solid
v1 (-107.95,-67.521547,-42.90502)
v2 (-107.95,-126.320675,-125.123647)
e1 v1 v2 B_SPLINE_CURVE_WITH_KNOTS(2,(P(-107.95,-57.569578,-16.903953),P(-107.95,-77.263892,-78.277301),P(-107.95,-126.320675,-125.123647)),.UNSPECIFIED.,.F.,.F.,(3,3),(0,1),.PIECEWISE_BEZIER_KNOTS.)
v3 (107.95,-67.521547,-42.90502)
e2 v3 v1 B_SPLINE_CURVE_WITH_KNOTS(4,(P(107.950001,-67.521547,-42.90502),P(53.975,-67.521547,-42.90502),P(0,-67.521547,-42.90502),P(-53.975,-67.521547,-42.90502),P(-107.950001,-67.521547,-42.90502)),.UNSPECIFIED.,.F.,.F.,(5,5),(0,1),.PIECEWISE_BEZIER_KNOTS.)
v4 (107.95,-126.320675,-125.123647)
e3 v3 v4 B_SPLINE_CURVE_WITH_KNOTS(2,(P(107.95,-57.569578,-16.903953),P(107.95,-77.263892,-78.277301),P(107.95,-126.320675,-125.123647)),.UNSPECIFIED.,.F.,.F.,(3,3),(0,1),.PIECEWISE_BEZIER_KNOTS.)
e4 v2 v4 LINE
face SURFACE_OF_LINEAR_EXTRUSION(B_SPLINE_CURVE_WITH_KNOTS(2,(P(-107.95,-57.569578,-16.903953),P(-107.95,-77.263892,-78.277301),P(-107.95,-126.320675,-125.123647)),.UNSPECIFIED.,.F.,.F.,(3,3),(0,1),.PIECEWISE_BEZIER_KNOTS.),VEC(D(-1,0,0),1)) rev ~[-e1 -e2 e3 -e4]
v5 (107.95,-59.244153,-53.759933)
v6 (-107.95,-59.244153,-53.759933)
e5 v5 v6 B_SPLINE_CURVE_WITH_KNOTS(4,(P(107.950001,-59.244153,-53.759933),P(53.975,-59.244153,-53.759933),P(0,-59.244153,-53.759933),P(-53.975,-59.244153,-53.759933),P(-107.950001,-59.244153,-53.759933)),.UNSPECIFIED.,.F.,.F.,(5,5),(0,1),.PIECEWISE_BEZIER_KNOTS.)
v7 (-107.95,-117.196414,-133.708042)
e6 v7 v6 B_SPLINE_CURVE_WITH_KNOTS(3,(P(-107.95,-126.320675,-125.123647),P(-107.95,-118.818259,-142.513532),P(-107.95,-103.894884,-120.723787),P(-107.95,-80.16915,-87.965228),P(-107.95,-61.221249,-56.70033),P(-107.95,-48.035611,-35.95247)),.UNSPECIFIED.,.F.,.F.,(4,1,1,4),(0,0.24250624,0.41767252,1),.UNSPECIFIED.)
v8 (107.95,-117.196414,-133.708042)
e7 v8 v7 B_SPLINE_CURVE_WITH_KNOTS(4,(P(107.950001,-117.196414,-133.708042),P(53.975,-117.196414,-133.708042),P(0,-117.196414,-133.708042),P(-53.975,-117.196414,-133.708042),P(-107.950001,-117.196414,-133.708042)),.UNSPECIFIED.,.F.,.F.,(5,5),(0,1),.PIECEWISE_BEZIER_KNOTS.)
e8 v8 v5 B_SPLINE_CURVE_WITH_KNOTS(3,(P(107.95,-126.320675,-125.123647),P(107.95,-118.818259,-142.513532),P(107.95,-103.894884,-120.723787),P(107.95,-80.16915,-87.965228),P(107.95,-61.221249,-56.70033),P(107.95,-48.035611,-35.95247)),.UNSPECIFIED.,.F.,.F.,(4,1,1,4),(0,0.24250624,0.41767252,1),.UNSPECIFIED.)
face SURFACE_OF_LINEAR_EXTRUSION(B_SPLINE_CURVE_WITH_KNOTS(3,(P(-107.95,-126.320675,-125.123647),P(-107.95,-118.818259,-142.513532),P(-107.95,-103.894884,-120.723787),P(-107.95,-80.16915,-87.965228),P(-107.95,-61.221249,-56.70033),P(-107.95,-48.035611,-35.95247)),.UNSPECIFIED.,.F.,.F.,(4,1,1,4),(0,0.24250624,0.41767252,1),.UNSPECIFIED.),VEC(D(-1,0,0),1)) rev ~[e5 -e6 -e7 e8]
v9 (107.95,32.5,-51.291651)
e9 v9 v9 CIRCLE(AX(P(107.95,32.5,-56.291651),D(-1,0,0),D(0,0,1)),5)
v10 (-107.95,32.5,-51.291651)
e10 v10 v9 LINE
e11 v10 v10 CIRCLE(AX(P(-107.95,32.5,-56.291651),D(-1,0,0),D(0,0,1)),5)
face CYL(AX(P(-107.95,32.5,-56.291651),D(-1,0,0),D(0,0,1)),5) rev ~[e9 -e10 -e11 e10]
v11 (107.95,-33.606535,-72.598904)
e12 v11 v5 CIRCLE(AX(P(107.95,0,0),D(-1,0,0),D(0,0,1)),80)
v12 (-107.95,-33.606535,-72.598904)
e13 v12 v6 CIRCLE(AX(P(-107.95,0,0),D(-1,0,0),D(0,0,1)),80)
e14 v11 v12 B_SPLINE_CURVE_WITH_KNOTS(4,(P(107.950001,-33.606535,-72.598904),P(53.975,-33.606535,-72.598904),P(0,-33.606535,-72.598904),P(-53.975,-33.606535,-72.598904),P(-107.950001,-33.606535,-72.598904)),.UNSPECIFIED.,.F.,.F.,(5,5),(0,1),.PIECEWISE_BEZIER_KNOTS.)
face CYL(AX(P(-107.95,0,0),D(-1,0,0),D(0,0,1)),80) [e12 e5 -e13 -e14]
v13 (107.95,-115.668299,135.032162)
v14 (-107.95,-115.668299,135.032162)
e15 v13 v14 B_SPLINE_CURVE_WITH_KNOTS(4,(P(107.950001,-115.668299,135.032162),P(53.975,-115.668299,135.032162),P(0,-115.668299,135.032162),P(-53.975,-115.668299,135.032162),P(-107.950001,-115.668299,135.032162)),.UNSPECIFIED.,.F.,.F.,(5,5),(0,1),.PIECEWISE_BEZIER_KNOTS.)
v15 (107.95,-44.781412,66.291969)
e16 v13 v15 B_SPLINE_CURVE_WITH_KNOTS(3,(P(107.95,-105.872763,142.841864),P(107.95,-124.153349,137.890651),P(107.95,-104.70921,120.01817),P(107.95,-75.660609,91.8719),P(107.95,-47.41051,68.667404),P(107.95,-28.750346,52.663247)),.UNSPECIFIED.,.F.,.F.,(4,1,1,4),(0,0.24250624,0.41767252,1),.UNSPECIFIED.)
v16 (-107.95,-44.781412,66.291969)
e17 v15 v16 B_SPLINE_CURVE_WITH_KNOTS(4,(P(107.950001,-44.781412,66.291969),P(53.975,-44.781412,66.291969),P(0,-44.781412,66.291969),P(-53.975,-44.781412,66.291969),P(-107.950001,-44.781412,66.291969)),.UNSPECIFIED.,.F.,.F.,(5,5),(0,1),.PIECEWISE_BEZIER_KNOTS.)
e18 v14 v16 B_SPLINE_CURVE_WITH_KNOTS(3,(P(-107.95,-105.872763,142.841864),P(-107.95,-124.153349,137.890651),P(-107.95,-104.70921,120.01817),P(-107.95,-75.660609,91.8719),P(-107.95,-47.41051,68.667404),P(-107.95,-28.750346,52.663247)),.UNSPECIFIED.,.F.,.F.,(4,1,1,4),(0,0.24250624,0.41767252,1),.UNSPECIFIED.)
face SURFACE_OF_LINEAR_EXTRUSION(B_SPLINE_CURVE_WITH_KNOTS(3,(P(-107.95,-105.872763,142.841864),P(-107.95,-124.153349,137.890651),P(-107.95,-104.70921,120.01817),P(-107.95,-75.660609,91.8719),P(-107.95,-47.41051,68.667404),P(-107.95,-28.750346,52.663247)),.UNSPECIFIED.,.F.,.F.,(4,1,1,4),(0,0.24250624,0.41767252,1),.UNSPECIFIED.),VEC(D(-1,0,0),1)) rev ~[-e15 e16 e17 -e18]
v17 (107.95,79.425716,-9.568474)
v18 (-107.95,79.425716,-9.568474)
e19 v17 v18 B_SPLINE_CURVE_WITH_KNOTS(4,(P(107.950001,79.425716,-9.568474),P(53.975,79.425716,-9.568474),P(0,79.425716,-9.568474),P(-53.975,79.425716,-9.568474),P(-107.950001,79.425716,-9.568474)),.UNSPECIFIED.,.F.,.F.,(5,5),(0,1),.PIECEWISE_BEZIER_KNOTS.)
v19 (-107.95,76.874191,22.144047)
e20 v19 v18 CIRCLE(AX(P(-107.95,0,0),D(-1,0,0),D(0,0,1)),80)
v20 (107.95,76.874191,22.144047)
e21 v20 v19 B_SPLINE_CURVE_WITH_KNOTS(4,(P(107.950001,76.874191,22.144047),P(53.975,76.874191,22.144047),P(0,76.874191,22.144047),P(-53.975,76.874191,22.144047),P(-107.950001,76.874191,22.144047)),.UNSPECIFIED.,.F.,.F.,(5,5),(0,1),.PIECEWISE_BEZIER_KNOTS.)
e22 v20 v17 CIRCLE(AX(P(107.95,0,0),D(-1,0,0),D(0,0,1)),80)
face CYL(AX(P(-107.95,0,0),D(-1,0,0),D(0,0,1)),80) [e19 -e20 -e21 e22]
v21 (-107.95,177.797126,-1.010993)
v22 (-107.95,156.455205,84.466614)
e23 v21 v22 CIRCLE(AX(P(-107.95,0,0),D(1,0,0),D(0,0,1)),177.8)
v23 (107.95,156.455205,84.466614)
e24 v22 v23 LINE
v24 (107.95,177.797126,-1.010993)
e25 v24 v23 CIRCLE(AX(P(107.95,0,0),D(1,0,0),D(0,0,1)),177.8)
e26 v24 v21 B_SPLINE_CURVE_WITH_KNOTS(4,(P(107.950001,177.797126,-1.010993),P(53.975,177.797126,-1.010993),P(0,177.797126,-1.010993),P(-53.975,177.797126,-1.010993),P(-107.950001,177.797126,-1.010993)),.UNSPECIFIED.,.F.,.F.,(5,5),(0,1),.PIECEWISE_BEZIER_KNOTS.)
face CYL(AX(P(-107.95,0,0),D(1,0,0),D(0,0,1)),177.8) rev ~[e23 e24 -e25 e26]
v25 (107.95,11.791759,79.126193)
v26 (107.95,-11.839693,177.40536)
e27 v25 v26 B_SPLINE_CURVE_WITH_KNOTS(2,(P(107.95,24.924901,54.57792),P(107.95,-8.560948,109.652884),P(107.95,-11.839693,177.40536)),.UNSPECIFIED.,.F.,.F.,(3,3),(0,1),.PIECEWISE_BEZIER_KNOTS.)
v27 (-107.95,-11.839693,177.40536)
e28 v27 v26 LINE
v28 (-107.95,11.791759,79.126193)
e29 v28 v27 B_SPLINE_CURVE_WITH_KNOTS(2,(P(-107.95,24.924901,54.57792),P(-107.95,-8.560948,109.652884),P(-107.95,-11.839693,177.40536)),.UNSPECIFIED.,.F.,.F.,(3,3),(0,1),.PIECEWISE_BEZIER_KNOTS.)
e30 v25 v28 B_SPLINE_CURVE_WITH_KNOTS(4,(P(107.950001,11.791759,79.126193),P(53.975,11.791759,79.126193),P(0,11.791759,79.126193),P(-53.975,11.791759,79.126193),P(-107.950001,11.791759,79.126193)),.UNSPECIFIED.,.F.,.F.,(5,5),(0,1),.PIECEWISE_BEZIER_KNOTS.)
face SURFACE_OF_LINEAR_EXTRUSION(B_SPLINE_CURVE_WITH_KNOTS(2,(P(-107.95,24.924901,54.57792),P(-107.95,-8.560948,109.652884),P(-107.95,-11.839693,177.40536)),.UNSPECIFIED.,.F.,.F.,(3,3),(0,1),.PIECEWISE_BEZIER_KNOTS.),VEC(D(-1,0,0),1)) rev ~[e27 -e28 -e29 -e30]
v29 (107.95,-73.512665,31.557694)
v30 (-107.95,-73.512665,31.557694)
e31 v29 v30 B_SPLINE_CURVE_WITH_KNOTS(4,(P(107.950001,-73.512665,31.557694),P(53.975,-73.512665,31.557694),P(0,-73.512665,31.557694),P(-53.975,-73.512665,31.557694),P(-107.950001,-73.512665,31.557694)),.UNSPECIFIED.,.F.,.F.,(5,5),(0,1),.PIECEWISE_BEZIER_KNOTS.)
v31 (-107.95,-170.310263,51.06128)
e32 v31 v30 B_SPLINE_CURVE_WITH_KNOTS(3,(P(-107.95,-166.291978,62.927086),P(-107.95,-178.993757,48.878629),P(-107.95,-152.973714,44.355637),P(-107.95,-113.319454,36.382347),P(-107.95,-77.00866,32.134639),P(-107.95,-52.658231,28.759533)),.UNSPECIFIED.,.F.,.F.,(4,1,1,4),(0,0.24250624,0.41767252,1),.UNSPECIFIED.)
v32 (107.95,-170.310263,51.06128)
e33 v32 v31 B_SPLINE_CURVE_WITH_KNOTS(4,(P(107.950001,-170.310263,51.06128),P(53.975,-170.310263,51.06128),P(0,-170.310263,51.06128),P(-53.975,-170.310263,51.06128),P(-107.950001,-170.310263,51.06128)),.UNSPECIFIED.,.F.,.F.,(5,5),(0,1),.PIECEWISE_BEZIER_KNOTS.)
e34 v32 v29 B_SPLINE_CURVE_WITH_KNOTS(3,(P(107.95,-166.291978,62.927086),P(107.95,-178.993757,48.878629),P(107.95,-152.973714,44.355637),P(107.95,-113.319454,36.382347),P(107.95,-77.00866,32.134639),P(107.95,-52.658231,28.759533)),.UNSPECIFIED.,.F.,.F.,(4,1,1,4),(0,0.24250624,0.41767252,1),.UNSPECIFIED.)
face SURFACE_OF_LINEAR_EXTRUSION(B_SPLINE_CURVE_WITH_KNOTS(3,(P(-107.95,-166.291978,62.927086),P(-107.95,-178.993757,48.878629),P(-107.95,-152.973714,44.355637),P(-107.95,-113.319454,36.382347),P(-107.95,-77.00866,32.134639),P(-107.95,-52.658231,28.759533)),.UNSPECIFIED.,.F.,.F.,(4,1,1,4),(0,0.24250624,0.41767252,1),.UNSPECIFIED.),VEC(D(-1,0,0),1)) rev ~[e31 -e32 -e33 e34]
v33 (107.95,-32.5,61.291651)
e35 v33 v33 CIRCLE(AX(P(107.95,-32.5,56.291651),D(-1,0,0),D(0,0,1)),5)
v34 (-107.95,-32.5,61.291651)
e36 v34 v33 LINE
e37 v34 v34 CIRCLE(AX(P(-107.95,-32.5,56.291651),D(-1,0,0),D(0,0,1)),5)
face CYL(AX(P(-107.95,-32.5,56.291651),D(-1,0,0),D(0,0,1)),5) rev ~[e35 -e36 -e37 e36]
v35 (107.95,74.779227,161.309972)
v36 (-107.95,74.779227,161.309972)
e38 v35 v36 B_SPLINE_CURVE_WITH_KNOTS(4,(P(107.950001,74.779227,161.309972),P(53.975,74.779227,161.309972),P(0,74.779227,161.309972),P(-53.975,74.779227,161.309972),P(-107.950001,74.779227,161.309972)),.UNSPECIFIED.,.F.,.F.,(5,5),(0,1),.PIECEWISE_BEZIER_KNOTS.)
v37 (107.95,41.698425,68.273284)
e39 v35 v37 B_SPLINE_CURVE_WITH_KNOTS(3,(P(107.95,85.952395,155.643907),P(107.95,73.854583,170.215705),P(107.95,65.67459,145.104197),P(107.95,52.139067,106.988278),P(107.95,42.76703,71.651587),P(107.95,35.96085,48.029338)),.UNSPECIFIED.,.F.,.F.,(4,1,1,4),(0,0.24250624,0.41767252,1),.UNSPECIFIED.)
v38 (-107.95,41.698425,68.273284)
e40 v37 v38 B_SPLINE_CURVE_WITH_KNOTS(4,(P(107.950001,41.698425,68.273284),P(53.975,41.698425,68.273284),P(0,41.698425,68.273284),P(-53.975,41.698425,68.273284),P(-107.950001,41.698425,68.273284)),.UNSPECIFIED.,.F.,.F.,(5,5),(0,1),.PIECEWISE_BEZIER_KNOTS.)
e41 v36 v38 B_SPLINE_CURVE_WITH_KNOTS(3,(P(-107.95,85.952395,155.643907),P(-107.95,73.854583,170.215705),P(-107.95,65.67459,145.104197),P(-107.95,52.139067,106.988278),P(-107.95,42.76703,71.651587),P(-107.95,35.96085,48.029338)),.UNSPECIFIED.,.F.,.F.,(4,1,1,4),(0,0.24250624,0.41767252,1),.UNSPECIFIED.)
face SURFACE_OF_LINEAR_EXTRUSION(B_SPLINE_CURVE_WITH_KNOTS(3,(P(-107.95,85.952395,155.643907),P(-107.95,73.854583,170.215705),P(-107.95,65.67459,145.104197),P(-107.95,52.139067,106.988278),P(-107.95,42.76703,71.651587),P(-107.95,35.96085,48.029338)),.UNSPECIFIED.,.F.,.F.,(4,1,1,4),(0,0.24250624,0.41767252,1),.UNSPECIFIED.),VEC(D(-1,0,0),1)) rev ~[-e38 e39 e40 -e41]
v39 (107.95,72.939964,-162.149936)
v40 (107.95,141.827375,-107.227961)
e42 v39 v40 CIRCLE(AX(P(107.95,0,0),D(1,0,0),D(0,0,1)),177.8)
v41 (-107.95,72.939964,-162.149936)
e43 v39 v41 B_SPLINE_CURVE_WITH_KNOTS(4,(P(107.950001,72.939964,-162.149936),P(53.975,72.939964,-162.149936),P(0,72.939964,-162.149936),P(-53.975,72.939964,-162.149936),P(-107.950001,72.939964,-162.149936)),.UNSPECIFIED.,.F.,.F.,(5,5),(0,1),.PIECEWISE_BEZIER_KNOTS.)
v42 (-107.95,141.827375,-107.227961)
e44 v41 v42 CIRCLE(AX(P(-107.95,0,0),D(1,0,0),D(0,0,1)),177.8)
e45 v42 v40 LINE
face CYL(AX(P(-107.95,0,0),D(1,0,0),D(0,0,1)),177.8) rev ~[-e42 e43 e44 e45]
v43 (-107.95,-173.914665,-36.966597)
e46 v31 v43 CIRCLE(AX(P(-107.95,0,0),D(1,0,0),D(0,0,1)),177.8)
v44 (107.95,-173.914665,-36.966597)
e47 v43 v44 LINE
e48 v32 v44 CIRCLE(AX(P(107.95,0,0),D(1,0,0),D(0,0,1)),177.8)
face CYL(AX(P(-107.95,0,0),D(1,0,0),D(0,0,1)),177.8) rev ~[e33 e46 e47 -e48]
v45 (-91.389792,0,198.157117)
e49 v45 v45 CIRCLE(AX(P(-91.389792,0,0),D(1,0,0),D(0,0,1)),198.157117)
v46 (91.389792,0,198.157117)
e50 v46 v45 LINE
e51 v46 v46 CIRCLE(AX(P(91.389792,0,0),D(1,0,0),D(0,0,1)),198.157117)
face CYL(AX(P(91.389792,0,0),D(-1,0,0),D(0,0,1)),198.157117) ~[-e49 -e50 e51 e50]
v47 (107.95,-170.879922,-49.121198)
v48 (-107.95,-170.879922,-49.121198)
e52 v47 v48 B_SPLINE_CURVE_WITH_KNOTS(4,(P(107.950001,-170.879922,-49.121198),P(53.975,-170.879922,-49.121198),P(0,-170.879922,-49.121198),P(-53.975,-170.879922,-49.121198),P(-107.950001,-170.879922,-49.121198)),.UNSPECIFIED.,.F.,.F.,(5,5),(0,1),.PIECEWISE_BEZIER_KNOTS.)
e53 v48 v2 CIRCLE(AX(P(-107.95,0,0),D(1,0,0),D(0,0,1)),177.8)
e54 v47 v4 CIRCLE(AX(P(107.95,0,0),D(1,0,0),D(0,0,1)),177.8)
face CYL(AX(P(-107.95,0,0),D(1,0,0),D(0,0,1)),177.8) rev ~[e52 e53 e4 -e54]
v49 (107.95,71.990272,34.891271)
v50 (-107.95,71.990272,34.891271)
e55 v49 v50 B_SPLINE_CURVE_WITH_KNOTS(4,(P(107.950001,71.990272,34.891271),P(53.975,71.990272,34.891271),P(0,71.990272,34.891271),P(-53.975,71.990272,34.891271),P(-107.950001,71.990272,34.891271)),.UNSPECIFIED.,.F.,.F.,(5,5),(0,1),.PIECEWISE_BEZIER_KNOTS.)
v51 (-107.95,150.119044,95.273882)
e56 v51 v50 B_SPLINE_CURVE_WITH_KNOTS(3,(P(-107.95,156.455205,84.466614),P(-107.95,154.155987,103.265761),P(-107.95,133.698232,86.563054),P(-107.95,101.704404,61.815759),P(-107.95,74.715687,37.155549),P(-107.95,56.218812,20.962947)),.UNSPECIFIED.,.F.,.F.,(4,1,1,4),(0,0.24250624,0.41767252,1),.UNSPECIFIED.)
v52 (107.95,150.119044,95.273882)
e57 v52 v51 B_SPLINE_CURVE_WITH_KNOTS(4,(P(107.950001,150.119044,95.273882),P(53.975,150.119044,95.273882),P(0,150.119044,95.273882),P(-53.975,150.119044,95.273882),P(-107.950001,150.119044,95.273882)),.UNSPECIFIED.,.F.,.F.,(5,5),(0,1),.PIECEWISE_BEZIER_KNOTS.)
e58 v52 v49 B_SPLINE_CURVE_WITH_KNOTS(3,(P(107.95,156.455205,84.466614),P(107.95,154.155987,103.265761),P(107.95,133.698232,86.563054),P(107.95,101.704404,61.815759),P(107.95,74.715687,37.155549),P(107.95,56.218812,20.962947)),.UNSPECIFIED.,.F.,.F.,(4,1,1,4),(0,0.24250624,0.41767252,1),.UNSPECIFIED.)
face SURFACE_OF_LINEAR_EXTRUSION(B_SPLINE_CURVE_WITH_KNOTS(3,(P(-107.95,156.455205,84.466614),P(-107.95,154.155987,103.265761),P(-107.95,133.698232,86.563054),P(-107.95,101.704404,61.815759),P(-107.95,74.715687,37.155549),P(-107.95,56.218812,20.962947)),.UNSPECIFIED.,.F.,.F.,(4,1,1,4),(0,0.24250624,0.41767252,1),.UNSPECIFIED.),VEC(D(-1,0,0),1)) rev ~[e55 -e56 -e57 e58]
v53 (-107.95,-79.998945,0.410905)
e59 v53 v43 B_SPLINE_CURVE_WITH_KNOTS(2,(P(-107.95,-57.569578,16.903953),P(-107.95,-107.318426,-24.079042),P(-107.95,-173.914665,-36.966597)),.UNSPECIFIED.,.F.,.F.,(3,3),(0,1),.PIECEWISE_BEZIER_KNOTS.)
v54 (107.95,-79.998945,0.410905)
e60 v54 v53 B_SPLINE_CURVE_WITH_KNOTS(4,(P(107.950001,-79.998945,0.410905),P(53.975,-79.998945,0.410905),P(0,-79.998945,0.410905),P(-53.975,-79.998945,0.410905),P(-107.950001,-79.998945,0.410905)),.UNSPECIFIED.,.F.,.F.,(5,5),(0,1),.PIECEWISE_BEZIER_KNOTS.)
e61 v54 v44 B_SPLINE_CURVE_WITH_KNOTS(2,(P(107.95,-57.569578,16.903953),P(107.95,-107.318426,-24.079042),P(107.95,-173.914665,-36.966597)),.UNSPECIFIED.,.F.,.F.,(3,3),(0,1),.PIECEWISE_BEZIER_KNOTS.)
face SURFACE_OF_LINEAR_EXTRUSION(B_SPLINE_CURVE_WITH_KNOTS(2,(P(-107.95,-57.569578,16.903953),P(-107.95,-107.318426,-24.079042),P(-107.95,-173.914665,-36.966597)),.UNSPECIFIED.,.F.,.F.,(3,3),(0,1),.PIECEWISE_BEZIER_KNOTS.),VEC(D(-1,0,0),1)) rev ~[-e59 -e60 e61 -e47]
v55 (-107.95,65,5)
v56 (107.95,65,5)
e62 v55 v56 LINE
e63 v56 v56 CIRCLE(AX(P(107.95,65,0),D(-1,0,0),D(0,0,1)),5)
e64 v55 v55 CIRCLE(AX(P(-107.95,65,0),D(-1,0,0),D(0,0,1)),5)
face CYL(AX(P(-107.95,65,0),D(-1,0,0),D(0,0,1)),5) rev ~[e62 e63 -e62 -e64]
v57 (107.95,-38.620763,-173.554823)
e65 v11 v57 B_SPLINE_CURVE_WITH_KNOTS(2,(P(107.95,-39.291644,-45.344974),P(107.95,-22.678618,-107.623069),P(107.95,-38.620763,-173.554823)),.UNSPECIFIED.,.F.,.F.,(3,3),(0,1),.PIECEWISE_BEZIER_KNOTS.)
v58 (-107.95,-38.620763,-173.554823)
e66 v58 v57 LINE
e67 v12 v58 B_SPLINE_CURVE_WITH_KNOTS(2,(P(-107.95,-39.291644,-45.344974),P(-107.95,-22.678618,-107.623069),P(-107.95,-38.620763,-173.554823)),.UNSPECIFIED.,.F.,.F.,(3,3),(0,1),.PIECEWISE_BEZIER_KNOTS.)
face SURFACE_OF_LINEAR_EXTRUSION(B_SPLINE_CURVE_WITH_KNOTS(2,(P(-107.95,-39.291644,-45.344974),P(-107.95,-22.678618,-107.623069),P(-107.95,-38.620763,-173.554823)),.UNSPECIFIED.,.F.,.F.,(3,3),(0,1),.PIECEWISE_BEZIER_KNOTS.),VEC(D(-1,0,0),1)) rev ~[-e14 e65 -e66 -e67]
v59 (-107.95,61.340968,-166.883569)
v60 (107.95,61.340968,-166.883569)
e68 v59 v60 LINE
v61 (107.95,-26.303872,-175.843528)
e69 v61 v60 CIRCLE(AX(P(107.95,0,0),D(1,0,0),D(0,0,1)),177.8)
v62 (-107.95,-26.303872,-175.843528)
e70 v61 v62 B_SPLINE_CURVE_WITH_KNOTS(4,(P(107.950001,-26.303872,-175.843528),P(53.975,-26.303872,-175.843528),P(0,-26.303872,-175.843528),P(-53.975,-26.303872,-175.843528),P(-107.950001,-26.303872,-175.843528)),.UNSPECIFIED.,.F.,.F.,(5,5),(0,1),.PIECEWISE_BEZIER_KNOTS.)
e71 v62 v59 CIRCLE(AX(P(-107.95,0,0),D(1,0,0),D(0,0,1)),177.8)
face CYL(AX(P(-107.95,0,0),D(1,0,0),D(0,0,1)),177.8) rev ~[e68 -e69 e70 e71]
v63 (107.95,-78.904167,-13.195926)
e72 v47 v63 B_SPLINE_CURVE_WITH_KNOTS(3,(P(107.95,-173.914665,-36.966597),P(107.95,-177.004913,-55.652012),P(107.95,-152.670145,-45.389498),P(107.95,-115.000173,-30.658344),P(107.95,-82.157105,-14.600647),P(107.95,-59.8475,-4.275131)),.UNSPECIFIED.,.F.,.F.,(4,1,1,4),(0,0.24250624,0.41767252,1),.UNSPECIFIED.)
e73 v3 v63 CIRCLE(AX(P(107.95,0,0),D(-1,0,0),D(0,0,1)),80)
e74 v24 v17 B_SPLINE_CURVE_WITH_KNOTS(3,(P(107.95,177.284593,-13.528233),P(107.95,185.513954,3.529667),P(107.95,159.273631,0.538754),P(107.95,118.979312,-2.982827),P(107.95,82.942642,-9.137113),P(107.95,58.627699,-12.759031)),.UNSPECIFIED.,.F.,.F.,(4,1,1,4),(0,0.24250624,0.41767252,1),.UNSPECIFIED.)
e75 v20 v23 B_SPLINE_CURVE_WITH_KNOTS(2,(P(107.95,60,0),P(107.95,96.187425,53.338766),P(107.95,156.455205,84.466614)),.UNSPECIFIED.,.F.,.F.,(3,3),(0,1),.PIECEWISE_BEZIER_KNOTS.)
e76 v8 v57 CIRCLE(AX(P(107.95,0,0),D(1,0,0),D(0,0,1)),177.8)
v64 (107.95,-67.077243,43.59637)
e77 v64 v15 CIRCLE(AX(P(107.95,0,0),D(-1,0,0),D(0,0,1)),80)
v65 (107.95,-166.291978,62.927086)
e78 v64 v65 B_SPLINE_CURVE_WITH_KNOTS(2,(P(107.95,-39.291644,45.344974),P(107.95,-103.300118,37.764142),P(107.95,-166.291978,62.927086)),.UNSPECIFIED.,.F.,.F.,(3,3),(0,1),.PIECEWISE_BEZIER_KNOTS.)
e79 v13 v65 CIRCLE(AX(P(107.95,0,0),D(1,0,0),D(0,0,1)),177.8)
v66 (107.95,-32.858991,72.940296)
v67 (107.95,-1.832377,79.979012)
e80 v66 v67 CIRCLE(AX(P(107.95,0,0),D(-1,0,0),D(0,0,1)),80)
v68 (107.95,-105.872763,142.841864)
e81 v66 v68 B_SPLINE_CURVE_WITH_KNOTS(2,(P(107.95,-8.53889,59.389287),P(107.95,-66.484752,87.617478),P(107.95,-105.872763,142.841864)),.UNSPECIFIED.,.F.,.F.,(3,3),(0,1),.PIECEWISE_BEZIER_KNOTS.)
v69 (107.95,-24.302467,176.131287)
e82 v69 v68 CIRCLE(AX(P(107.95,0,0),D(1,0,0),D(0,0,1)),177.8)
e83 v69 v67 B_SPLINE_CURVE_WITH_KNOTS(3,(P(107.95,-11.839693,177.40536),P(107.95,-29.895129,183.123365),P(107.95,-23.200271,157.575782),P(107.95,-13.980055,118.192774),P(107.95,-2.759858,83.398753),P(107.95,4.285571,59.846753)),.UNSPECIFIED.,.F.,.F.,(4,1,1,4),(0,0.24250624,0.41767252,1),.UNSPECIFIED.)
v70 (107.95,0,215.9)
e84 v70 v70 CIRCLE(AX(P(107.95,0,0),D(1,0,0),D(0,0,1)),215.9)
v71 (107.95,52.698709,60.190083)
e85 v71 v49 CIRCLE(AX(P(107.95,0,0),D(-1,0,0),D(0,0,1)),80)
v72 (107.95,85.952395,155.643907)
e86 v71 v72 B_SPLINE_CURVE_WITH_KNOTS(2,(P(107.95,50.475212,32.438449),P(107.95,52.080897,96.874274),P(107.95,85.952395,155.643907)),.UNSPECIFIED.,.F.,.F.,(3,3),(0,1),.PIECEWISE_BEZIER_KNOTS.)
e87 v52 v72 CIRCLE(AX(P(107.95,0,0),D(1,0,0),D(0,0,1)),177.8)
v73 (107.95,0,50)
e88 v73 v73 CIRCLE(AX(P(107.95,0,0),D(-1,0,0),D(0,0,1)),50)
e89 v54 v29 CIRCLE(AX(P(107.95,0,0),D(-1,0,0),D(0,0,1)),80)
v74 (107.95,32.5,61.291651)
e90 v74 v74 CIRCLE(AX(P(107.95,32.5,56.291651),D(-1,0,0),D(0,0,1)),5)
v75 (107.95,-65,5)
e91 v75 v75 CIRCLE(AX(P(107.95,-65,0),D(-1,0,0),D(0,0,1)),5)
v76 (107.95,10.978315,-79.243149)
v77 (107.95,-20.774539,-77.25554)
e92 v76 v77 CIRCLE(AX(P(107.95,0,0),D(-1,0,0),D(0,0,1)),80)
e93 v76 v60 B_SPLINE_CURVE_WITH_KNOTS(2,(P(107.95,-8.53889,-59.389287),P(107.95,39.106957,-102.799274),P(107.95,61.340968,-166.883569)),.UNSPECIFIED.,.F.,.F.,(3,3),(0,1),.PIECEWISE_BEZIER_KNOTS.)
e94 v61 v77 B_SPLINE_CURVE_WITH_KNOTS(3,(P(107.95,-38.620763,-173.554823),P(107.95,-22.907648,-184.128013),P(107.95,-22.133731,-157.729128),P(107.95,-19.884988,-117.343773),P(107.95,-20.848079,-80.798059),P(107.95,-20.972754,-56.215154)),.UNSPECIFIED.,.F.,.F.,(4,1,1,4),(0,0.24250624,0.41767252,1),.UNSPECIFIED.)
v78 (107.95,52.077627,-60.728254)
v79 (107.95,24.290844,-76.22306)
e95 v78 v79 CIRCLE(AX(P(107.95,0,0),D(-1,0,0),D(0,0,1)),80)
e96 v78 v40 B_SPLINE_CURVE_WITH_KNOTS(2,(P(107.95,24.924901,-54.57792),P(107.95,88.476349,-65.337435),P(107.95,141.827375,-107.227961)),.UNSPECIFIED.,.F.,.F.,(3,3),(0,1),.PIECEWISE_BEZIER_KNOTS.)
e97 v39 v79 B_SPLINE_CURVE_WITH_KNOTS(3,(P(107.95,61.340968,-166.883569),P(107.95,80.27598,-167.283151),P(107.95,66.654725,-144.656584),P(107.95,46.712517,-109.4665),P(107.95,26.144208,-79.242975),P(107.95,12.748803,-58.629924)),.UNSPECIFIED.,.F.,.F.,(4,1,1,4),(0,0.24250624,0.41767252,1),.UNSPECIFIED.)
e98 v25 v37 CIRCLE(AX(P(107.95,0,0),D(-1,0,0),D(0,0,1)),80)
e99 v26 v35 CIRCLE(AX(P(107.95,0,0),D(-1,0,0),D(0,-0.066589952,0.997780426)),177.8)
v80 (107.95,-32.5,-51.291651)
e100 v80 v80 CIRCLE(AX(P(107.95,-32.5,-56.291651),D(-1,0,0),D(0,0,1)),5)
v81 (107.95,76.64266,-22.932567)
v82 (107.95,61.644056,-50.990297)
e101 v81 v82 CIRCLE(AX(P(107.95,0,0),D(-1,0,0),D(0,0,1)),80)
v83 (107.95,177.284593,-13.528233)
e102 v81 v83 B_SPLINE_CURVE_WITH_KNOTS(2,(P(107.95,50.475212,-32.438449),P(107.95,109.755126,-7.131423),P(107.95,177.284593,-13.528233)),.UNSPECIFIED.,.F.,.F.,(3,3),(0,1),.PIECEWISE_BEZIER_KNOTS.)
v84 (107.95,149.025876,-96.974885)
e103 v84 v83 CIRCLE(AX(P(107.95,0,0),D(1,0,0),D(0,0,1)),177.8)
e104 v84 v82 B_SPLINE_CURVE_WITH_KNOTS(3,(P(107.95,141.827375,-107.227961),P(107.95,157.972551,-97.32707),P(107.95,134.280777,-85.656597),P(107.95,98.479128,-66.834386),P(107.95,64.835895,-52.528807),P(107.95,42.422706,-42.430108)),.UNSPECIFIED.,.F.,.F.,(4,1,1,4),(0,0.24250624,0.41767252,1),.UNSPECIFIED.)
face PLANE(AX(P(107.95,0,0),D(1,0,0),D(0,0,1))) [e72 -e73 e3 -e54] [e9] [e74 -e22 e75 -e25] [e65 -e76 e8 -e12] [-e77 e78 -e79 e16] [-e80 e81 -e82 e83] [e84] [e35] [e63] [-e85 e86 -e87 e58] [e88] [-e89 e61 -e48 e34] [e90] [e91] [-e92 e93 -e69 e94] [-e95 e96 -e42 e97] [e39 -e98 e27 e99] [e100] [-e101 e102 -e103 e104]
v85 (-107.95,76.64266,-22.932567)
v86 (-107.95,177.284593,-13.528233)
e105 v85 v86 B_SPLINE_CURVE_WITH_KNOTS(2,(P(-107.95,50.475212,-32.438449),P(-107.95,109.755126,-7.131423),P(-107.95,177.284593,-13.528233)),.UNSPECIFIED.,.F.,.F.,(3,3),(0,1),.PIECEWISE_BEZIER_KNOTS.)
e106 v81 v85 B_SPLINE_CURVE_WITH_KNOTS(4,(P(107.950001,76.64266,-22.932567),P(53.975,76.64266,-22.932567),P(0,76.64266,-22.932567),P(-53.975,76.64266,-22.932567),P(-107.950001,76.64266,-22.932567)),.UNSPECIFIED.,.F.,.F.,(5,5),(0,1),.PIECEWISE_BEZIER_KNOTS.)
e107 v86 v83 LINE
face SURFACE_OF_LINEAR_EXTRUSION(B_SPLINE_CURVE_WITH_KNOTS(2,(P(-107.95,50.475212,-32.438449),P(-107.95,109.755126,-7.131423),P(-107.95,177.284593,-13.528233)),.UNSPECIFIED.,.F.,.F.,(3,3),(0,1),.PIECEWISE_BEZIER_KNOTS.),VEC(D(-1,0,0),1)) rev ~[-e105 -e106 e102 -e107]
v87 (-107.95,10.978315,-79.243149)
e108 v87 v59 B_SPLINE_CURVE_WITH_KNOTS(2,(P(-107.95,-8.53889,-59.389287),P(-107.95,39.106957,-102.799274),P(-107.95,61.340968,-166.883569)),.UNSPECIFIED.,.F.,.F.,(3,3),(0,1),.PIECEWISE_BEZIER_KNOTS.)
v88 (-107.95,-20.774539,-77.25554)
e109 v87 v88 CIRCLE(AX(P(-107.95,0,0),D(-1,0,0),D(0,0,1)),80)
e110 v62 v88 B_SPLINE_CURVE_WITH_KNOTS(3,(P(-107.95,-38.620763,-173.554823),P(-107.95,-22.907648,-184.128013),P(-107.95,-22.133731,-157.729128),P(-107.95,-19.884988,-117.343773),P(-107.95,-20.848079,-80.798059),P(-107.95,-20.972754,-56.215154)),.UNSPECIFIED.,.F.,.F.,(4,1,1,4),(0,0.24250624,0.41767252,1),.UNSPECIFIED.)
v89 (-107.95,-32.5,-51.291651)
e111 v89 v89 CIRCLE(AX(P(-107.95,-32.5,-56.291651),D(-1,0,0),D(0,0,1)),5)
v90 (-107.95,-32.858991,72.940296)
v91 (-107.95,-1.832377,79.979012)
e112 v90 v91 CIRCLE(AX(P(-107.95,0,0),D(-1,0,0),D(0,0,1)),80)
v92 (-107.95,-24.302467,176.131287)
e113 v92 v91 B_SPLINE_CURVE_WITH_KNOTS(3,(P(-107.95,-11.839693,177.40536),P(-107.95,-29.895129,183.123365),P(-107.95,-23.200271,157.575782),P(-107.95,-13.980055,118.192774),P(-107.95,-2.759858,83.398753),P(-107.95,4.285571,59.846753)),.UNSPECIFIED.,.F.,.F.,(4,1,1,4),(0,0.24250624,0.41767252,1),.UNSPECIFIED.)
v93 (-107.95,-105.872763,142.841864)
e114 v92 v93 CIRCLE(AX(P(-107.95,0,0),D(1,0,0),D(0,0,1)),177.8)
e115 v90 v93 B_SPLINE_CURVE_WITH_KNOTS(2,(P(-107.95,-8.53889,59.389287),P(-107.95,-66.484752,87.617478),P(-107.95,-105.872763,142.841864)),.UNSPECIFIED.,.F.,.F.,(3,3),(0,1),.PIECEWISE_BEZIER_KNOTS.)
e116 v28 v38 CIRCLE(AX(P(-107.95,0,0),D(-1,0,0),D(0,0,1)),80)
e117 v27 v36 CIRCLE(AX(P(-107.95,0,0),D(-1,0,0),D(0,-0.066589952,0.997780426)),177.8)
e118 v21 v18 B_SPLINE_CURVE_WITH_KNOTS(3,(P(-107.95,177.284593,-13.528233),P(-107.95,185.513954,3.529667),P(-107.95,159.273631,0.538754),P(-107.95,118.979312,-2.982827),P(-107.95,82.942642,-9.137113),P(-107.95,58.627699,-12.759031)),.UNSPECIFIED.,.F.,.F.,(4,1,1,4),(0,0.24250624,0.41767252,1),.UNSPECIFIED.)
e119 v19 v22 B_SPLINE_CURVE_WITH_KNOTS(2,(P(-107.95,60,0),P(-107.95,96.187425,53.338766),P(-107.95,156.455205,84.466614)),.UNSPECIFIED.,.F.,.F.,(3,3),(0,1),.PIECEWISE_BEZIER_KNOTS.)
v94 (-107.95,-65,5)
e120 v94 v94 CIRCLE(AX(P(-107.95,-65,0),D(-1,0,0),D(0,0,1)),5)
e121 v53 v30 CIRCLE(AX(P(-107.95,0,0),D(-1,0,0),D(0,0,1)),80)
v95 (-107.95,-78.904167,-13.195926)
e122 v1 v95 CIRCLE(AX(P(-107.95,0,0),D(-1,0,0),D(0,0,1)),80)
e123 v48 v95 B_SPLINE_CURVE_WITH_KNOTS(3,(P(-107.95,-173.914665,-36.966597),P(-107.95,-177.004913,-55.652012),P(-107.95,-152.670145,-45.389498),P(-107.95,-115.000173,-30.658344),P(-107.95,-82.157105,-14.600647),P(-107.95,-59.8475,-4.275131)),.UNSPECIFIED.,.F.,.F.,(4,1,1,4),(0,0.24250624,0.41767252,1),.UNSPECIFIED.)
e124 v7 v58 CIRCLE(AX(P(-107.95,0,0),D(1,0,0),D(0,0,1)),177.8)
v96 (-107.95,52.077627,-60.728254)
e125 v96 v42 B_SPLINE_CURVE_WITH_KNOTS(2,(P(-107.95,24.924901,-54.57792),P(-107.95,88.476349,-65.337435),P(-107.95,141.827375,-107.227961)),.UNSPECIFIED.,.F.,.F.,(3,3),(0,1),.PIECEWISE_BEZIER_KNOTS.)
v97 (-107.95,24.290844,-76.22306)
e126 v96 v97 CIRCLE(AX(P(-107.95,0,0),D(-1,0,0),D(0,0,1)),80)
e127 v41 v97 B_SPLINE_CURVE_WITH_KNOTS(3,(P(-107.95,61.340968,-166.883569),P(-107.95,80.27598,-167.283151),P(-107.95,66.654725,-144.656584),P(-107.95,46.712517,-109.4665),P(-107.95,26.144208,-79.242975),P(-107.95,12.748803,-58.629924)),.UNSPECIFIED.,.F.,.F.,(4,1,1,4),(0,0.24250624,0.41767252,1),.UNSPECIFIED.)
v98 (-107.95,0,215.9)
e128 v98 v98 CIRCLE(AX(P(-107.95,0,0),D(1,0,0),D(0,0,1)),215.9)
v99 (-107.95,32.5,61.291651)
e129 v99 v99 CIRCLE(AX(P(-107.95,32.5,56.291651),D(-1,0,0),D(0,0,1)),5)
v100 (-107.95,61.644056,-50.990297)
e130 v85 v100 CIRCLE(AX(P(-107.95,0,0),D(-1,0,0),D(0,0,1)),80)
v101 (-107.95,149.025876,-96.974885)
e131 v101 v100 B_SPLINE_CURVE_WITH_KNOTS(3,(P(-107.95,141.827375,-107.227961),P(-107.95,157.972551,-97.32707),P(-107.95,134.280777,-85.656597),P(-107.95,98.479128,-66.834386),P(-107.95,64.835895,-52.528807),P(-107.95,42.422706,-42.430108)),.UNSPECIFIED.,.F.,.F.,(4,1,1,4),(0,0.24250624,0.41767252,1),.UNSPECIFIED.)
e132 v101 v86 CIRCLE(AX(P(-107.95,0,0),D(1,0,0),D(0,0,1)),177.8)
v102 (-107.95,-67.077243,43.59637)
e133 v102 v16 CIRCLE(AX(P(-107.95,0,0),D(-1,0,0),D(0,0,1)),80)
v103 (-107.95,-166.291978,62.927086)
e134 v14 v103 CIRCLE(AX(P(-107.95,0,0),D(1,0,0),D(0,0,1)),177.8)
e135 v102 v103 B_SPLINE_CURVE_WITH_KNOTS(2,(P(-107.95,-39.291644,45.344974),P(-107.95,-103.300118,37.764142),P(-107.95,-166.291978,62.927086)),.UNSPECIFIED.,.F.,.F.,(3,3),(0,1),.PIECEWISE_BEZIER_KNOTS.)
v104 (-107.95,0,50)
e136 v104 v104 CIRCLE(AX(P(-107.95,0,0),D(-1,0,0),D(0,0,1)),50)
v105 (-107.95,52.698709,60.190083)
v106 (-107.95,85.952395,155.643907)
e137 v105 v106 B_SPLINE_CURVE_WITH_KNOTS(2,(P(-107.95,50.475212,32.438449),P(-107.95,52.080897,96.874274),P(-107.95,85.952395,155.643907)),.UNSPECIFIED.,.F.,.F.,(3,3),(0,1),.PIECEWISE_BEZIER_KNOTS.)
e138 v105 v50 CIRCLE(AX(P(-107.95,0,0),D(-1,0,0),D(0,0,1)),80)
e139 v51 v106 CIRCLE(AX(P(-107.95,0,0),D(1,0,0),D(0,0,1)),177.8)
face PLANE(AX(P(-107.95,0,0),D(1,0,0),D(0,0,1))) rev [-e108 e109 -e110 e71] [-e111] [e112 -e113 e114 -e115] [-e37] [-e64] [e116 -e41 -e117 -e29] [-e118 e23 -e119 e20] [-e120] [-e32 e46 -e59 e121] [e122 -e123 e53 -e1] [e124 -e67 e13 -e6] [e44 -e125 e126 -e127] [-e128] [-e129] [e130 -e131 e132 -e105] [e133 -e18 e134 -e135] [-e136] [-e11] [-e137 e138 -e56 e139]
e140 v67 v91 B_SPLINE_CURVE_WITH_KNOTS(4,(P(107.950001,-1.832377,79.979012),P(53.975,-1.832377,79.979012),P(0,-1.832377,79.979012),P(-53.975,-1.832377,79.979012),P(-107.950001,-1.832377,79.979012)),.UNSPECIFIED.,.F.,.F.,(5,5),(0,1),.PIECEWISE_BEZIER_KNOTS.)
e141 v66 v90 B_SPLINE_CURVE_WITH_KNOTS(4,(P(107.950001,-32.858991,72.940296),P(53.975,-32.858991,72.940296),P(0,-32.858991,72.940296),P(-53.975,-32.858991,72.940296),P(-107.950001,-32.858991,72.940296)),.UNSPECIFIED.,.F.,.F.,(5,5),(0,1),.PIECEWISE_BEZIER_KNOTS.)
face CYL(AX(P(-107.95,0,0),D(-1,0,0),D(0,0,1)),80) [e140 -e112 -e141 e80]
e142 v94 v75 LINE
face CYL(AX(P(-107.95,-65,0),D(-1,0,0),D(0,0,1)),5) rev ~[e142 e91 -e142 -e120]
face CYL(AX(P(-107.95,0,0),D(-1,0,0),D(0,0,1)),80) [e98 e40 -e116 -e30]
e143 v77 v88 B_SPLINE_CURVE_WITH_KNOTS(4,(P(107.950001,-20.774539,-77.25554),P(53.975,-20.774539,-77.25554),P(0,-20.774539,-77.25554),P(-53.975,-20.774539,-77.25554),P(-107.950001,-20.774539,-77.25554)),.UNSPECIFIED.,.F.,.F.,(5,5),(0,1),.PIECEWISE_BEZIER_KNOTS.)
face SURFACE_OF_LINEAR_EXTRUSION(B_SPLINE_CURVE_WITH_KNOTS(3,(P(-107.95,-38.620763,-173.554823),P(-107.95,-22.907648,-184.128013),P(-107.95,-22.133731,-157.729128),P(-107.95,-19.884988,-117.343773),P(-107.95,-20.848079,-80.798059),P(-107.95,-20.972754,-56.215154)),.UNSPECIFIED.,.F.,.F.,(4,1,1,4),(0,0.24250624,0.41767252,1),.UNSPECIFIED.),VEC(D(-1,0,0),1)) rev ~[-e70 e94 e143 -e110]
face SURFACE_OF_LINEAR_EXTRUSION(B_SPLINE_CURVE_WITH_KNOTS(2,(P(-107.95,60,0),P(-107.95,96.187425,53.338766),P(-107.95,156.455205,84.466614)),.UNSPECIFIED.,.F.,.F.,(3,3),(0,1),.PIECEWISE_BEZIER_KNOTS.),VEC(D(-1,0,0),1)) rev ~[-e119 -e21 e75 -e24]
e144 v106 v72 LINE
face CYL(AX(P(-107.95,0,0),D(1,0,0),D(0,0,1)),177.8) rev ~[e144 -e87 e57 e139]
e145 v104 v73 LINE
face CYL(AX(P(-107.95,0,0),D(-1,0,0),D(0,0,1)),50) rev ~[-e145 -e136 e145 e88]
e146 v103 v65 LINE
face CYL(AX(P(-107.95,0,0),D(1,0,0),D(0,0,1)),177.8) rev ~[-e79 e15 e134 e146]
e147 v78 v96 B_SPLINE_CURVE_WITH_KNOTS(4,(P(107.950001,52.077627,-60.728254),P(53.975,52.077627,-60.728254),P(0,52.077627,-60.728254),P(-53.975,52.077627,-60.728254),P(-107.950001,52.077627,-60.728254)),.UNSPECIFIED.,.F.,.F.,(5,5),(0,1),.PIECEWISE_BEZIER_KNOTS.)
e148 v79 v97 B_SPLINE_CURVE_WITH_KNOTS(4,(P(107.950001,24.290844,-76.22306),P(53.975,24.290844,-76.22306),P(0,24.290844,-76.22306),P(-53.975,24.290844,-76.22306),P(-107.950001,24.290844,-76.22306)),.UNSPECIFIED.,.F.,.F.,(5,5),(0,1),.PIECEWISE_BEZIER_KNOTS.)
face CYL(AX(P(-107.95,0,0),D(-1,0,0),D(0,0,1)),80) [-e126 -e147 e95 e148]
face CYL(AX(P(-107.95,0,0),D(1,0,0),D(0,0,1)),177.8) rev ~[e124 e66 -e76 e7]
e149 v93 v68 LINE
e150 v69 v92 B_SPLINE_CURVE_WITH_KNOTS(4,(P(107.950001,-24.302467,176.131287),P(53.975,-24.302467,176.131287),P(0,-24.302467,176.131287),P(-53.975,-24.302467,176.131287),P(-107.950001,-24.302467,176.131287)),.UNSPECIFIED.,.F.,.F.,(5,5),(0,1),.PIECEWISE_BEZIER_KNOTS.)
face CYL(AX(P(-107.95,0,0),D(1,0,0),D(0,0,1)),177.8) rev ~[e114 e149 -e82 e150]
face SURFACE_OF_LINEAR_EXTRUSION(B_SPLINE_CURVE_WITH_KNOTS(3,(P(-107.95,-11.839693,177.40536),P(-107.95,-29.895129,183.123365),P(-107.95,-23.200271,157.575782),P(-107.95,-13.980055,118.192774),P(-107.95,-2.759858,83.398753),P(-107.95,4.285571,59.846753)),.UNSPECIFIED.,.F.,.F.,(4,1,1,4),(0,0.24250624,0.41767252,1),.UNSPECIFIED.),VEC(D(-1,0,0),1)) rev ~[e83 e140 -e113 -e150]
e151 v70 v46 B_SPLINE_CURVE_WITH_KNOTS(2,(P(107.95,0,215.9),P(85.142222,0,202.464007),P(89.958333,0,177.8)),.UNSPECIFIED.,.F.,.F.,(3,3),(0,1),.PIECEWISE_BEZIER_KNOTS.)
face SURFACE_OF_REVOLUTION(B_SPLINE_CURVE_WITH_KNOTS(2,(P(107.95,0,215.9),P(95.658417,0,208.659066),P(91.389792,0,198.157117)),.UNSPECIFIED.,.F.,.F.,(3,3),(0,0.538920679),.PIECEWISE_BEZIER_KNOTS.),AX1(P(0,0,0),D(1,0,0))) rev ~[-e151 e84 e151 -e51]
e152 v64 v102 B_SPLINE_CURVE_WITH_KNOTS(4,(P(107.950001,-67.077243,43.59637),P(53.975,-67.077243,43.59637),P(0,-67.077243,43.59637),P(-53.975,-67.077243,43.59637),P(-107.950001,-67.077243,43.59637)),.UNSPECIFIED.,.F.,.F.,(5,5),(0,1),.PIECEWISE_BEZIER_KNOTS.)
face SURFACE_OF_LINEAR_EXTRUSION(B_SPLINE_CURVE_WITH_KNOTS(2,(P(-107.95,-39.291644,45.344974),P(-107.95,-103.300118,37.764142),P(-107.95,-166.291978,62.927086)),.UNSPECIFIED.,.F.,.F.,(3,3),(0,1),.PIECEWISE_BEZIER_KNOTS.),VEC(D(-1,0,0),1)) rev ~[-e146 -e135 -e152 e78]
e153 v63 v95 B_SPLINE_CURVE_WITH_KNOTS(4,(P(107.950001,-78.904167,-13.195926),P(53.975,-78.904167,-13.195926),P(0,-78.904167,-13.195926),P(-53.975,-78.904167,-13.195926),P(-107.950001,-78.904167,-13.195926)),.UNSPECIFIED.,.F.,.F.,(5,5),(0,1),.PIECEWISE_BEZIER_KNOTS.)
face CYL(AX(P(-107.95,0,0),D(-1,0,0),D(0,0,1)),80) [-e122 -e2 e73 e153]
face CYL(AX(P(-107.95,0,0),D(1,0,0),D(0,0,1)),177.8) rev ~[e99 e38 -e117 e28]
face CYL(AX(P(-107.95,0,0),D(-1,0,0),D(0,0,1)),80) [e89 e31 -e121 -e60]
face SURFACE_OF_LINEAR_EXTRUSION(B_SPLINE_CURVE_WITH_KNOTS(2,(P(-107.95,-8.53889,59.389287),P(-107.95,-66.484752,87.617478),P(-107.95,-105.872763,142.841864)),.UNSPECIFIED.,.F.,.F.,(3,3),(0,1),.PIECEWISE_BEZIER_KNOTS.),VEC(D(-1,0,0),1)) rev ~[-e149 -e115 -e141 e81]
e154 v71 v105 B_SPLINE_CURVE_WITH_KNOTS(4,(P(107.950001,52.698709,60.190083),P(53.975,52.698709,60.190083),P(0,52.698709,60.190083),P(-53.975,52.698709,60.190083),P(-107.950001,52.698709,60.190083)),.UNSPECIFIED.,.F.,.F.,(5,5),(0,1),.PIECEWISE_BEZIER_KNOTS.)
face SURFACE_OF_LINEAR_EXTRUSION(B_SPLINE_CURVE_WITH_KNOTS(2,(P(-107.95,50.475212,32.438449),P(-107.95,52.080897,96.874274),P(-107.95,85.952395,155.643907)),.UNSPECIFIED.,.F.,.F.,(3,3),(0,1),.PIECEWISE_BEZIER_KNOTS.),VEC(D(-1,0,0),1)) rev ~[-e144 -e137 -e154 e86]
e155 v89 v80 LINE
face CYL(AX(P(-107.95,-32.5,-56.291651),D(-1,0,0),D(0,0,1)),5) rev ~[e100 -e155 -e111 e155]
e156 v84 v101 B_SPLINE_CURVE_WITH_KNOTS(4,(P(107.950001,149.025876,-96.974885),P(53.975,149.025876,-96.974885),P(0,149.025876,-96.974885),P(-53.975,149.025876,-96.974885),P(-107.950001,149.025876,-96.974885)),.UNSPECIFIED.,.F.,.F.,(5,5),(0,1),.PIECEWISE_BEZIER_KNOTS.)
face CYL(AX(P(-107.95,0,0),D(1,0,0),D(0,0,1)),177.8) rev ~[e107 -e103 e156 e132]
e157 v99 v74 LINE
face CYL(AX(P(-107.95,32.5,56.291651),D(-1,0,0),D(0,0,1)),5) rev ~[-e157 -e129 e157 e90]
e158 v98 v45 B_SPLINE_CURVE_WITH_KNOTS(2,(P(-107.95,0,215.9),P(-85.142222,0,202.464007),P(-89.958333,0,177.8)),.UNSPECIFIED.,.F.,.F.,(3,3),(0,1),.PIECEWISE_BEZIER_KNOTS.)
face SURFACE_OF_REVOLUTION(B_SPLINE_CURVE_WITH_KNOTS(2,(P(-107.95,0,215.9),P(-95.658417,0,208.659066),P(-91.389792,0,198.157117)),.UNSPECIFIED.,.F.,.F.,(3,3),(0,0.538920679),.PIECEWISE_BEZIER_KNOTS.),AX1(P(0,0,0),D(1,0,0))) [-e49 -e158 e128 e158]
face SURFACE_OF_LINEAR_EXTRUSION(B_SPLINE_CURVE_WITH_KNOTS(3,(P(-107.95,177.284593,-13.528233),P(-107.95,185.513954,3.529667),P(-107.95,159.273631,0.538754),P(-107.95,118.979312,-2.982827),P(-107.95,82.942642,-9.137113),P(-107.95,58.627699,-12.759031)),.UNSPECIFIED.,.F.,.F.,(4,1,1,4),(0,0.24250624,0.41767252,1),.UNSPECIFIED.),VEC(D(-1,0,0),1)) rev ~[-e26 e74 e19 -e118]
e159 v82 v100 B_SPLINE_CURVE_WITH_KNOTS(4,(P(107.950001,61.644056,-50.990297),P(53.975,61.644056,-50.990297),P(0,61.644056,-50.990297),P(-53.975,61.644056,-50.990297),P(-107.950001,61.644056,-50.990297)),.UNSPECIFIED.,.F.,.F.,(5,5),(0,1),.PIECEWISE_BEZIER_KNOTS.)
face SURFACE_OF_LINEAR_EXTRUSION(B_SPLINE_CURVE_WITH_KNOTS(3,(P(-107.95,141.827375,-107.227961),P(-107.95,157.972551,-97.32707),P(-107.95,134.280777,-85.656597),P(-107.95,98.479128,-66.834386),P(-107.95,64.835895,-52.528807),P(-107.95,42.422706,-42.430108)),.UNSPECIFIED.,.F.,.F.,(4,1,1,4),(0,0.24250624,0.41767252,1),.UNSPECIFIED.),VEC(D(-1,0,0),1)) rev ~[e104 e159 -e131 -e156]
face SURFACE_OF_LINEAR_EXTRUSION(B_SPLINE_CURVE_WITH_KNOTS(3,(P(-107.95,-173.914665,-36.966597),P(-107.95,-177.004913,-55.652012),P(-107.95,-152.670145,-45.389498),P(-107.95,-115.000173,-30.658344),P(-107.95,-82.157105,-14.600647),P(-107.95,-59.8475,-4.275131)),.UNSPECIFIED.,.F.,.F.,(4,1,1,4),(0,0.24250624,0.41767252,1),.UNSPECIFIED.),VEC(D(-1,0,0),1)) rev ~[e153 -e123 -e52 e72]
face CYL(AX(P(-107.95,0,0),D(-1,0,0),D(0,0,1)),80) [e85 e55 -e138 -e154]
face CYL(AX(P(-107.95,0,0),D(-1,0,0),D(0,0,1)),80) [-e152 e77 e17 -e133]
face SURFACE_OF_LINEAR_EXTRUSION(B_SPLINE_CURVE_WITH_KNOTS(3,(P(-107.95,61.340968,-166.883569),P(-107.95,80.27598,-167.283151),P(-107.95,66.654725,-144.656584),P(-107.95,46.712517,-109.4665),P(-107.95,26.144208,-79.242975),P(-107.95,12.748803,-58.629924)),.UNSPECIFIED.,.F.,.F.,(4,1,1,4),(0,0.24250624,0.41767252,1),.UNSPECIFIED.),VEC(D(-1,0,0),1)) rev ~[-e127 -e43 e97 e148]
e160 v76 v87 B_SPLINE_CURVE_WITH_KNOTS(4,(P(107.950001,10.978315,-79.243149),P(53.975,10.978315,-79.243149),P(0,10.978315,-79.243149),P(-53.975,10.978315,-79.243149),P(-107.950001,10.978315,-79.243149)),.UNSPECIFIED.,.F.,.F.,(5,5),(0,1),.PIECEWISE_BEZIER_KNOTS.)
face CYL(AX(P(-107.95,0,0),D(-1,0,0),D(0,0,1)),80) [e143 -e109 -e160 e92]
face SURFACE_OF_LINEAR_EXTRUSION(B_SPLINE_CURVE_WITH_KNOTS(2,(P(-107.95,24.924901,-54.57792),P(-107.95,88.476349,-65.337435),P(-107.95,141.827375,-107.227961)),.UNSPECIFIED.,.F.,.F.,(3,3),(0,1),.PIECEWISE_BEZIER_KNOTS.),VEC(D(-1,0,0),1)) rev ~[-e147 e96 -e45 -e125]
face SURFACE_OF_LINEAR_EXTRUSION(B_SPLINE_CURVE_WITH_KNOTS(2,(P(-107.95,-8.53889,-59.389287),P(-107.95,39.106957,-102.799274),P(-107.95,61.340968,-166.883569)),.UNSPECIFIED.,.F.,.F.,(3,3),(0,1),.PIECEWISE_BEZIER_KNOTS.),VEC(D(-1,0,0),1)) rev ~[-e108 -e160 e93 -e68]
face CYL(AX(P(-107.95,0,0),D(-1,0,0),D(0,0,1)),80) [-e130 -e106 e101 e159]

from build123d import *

# Parameters (mm, degrees)
SKETCH4_R           = 80
SKETCH4_R_2         = 50
EXTRUDE_THIN3_DEPTH = 215.9
BOSS_EXTRUDE5_DEPTH = 215.9
SKETCH7_R           = 5
CUT_EXTRUDE1_DEPTH  = 374.949769527


with BuildPart() as part:
    # Sketch1 → Revolve2 (revolve)
    with BuildSketch(Plane.XY, mode=Mode.PRIVATE) as revolve2_sk:
        with BuildLine():
            add(Edge.make_bspline(
                [(-91.389791645, 198.157117378), (-87.737723978, 189.172063745), (-89.958333333, 177.8)],
                knots=[0.538920679, 0.538920679, 0.538920679, 1, 1, 1], degree=2))
            Line((-89.958333333, 177.8), (89.958333333, 177.8))
            add(Edge.make_bspline(
                [(91.389791645, 198.157117378), (87.737723978, 189.172063745), (89.958333333, 177.8)],
                knots=[0.538920679, 0.538920679, 0.538920679, 1, 1, 1], degree=2))
            Line((91.389791645, 198.157117378), (-91.389791645, 198.157117378))
        make_face()
        with BuildLine():
            add(Edge.make_bspline(
                [(-107.95, 215.9), (-85.142221979, 202.464007291), (-89.958333333, 177.8)],
                knots=[0, 0, 0, 1, 1, 1], degree=2))
            Line((-89.958333333, 177.8), (-107.95, 177.8))
            Line((-107.95, 177.8), (-107.95, 215.9))
        make_face()
        with BuildLine():
            Line((107.95, 215.9), (107.95, 177.8))
            Line((107.95, 177.8), (89.958333333, 177.8))
            add(Edge.make_bspline(
                [(107.95, 215.9), (85.142221979, 202.464007291), (89.958333333, 177.8)],
                knots=[0, 0, 0, 1, 1, 1], degree=2))
        make_face()
    revolve(revolve2_sk.sketch.rotate(Axis((0, 0, 0), (1, 0, 0)), 90), axis=Axis((0, 0, 0), (1, 0, 0)))



with BuildPart() as body_2:
    # Sketch4 → Extrude-Thin3 (new, through all)
    with BuildSketch(Plane.ZY.offset(107.95)):
        Circle(SKETCH4_R)
        Circle(SKETCH4_R_2, mode=Mode.SUBTRACT)
    extrude(amount=-EXTRUDE_THIN3_DEPTH)


with BuildPart() as part_1:
    add(part.part)

    add(body_2.part)  # Boss-Extrude5 merges body 2
    # Sketch5 → Boss-Extrude5 (add, through all)
    with BuildSketch(Plane.ZY.offset(107.95)):
        with BuildLine():
            add(Edge.make_bspline(
                [(84.466613731, 156.455204978), (103.265760756, 154.155986618), (86.563054422, 133.698232311), (61.815758586, 101.70440423), (37.155549156, 74.715687445), (20.962946955, 56.218812287)],
                knots=[0, 0, 0, 0, 0.24250624, 0.41767252, 1, 1, 1, 1], degree=3))
            add(Edge.make_bspline(
                [(0, 60), (11.003820956, 59.93238473), (20.962946955, 56.218812287)],
                knots=[0, 0, 0, 0.88641076, 0.88641076, 0.88641076], degree=2))
            add(Edge.make_bspline(
                [(0, 60), (53.338766253, 96.187425341), (84.466613731, 156.455204978)],
                knots=[0, 0, 0, 1, 1, 1], degree=2))
        make_face()
        with BuildLine():
            add(Edge.make_bspline(
                [(155.643907122, 85.952394823), (170.215704677, 73.854583039), (145.104196955, 65.674589761), (106.988277537, 52.13906711), (71.651587329, 42.767029552), (48.029337815, 35.96084967)],
                knots=[0, 0, 0, 0, 0.24250624, 0.41767252, 1, 1, 1, 1], degree=3))
            add(Edge.make_bspline(
                [(32.438449047, 50.47521197), (41.658896726, 44.469215628), (48.029337815, 35.96084967)],
                knots=[0, 0, 0, 0.88641076, 0.88641076, 0.88641076], degree=2))
            add(Edge.make_bspline(
                [(32.438449047, 50.47521197), (96.874273812, 52.080897193), (155.643907122, 85.952394823)],
                knots=[0, 0, 0, 1, 1, 1], degree=2))
        make_face()
        with BuildLine():
            add(Edge.make_bspline(
                [(177.405359729, -11.839693378), (183.123365051, -29.895128823), (157.575782211, -23.200271004), (118.192774313, -13.980055421), (83.398752791, -2.759858046), (59.846753279, 4.28557137)],
                knots=[0, 0, 0, 0, 0.24250624, 0.41767252, 1, 1, 1, 1], degree=3))
            add(Edge.make_bspline(
                [(54.577919721, 24.92490078), (59.087567133, 14.887384769), (59.846753279, 4.28557137)],
                knots=[0, 0, 0, 0.88641076, 0.88641076, 0.88641076], degree=2))
            add(Edge.make_bspline(
                [(54.577919721, 24.92490078), (109.652883917, -8.560947828), (177.405359729, -11.839693378)],
                knots=[0, 0, 0, 1, 1, 1], degree=2))
        make_face()
        with BuildLine():
            add(Edge.make_bspline(
                [(142.841864109, -105.872762587), (137.890650908, -124.153348513), (120.018169993, -104.709209651), (91.871900355, -75.660609134), (68.667403509, -47.410510215), (52.663247433, -28.750345559)],
                knots=[0, 0, 0, 0, 0.24250624, 0.41767252, 1, 1, 1, 1], degree=3))
            add(Edge.make_bspline(
                [(59.389286513, -8.538890296), (57.756352469, -19.421085565), (52.663247433, -28.750345559)],
                knots=[0, 0, 0, 0.88641076, 0.88641076, 0.88641076], degree=2))
            add(Edge.make_bspline(
                [(59.389286513, -8.538890296), (87.617478149, -66.484752402), (142.841864109, -105.872762587)],
                knots=[0, 0, 0, 1, 1, 1], degree=2))
        make_face()
        with BuildLine():
            add(Edge.make_bspline(
                [(-173.55482323, -38.620762988), (-184.128013151, -22.907647802), (-157.729127513, -22.133731004), (-117.343773244, -19.88498756), (-80.798059175, -20.848079458), (-56.215154285, -20.972754438)],
                knots=[0, 0, 0, 0, 0.24250624, 0.41767252, 1, 1, 1, 1], degree=3))
            add(Edge.make_bspline(
                [(-45.344974461, -39.291644037), (-52.499844517, -30.931232448), (-56.215154285, -20.972754438)],
                knots=[0, 0, 0, 0.88641076, 0.88641076, 0.88641076], degree=2))
            add(Edge.make_bspline(
                [(-45.344974461, -39.291644037), (-107.623069376, -22.678618063), (-173.55482323, -38.620762988)],
                knots=[0, 0, 0, 1, 1, 1], degree=2))
        make_face()
        with BuildLine():
            add(Edge.make_bspline(
                [(-166.883569054, 61.3409682), (-167.28315099, 80.275979904), (-144.656584174, 66.654725033), (-109.466499727, 46.712517455), (-79.242975447, 26.144208264), (-58.629924244, 12.748803202)],
                knots=[0, 0, 0, 0, 0.24250624, 0.41767252, 1, 1, 1, 1], degree=3))
            add(Edge.make_bspline(
                [(-59.389286513, -8.538890296), (-60.888366468, 2.362550284), (-58.629924244, 12.748803202)],
                knots=[0, 0, 0, 0.88641076, 0.88641076, 0.88641076], degree=2))
            add(Edge.make_bspline(
                [(-59.389286513, -8.538890296), (-102.799273935, 39.106956639), (-166.883569054, 61.3409682)],
                knots=[0, 0, 0, 1, 1, 1], degree=2))
        make_face()
        with BuildLine():
            add(Edge.make_bspline(
                [(-107.227960847, 141.827375399), (-97.327070356, 157.972551194), (-85.656597455, 134.280776832), (-66.834386, 98.479128232), (-52.528806919, 64.835894589), (-42.430107516, 42.422705904)],
                knots=[0, 0, 0, 0, 0.24250624, 0.41767252, 1, 1, 1, 1], degree=3))
            add(Edge.make_bspline(
                [(-54.577919721, 24.92490078), (-49.945262283, 34.906239994), (-42.430107516, 42.422705904)],
                knots=[0, 0, 0, 0.88641076, 0.88641076, 0.88641076], degree=2))
            add(Edge.make_bspline(
                [(-54.577919721, 24.92490078), (-65.337435364, 88.476348925), (-107.227960847, 141.827375399)],
                knots=[0, 0, 0, 1, 1, 1], degree=2))
        make_face()
        with BuildLine():
            add(Edge.make_bspline(
                [(-13.528232707, 177.284593013), (3.529667435, 185.51395366), (0.538753736, 159.27363077), (-2.982826947, 118.979311617), (-9.137113345, 82.94264249), (-12.759031447, 58.627699226)],
                knots=[0, 0, 0, 0, 0.24250624, 0.41767252, 1, 1, 1, 1], degree=3))
            add(Edge.make_bspline(
                [(-32.438449047, 50.47521197), (-23.144890219, 56.367445141), (-12.759031447, 58.627699226)],
                knots=[0, 0, 0, 0.88641076, 0.88641076, 0.88641076], degree=2))
            add(Edge.make_bspline(
                [(-32.438449047, 50.47521197), (-7.131422718, 109.755125571), (-13.528232707, 177.284593013)],
                knots=[0, 0, 0, 1, 1, 1], degree=2))
        make_face()
        with BuildLine():
            add(Edge.make_bspline(
                [(62.927085906, -166.291977736), (48.878629391, -178.993757276), (44.35563681, -152.973714073), (36.38234717, -113.319454039), (32.134638794, -77.008660377), (28.759532628, -52.658230914)],
                knots=[0, 0, 0, 0, 0.24250624, 0.41767252, 1, 1, 1, 1], degree=3))
            add(Edge.make_bspline(
                [(45.344974461, -39.291644037), (38.087903982, -47.563498455), (28.759532628, -52.658230914)],
                knots=[0, 0, 0, 0.88641076, 0.88641076, 0.88641076], degree=2))
            add(Edge.make_bspline(
                [(45.344974461, -39.291644037), (37.764142143, -103.300117847), (62.927085906, -166.291977736)],
                knots=[0, 0, 0, 1, 1, 1], degree=2))
        make_face()
        with BuildLine():
            add(Edge.make_bspline(
                [(-36.96659745, -173.914664916), (-55.652011598, -177.004912813), (-45.389497658, -152.670145138), (-30.658344176, -115.000172964), (-14.600646686, -82.157104987), (-4.275130581, -59.847500019)],
                knots=[0, 0, 0, 0, 0.24250624, 0.41767252, 1, 1, 1, 1], degree=3))
            add(Edge.make_bspline(
                [(16.90395341, -57.569578417), (6.326815098, -60.604836653), (-4.275130581, -59.847500019)],
                knots=[0, 0, 0, 0.88641076, 0.88641076, 0.88641076], degree=2))
            add(Edge.make_bspline(
                [(16.90395341, -57.569578417), (-24.079042164, -107.31842576), (-36.96659745, -173.914664916)],
                knots=[0, 0, 0, 1, 1, 1], degree=2))
        make_face()
        with BuildLine():
            add(Edge.make_bspline(
                [(-125.123647309, -126.320674808), (-142.513532123, -118.818259189), (-120.723787327, -103.894883837), (-87.965227868, -80.169149525), (-56.700330006, -61.221249258), (-35.952470037, -48.03561073)],
                knots=[0, 0, 0, 0, 0.24250624, 0.41767252, 1, 1, 1, 1], degree=3))
            add(Edge.make_bspline(
                [(-16.90395341, -57.569578417), (-27.442992877, -54.404567427), (-35.952470037, -48.03561073)],
                knots=[0, 0, 0, 0.88641076, 0.88641076, 0.88641076], degree=2))
            add(Edge.make_bspline(
                [(-16.90395341, -57.569578417), (-78.277300718, -77.263891769), (-125.123647309, -126.320674808)],
                knots=[0, 0, 0, 1, 1, 1], degree=2))
        make_face()
    extrude(amount=-BOSS_EXTRUDE5_DEPTH)

    # Sketch7 → Cut-Extrude1 (cut, through all)
    with BuildSketch(Plane.ZY.offset(107.95)):
        with Locations((-56.291651246, 32.5)):
            Circle(SKETCH7_R)
        with Locations((0, 65)):
            Circle(SKETCH7_R)
        with Locations((56.291651246, 32.5)):
            Circle(SKETCH7_R)
        with Locations((-56.291651246, -32.5)):
            Circle(SKETCH7_R)
        with Locations((0, -65)):
            Circle(SKETCH7_R)
        with Locations((56.291651246, -32.5)):
            Circle(SKETCH7_R)
    extrude(amount=-CUT_EXTRUDE1_DEPTH, mode=Mode.SUBTRACT)


solid = part_1.part
